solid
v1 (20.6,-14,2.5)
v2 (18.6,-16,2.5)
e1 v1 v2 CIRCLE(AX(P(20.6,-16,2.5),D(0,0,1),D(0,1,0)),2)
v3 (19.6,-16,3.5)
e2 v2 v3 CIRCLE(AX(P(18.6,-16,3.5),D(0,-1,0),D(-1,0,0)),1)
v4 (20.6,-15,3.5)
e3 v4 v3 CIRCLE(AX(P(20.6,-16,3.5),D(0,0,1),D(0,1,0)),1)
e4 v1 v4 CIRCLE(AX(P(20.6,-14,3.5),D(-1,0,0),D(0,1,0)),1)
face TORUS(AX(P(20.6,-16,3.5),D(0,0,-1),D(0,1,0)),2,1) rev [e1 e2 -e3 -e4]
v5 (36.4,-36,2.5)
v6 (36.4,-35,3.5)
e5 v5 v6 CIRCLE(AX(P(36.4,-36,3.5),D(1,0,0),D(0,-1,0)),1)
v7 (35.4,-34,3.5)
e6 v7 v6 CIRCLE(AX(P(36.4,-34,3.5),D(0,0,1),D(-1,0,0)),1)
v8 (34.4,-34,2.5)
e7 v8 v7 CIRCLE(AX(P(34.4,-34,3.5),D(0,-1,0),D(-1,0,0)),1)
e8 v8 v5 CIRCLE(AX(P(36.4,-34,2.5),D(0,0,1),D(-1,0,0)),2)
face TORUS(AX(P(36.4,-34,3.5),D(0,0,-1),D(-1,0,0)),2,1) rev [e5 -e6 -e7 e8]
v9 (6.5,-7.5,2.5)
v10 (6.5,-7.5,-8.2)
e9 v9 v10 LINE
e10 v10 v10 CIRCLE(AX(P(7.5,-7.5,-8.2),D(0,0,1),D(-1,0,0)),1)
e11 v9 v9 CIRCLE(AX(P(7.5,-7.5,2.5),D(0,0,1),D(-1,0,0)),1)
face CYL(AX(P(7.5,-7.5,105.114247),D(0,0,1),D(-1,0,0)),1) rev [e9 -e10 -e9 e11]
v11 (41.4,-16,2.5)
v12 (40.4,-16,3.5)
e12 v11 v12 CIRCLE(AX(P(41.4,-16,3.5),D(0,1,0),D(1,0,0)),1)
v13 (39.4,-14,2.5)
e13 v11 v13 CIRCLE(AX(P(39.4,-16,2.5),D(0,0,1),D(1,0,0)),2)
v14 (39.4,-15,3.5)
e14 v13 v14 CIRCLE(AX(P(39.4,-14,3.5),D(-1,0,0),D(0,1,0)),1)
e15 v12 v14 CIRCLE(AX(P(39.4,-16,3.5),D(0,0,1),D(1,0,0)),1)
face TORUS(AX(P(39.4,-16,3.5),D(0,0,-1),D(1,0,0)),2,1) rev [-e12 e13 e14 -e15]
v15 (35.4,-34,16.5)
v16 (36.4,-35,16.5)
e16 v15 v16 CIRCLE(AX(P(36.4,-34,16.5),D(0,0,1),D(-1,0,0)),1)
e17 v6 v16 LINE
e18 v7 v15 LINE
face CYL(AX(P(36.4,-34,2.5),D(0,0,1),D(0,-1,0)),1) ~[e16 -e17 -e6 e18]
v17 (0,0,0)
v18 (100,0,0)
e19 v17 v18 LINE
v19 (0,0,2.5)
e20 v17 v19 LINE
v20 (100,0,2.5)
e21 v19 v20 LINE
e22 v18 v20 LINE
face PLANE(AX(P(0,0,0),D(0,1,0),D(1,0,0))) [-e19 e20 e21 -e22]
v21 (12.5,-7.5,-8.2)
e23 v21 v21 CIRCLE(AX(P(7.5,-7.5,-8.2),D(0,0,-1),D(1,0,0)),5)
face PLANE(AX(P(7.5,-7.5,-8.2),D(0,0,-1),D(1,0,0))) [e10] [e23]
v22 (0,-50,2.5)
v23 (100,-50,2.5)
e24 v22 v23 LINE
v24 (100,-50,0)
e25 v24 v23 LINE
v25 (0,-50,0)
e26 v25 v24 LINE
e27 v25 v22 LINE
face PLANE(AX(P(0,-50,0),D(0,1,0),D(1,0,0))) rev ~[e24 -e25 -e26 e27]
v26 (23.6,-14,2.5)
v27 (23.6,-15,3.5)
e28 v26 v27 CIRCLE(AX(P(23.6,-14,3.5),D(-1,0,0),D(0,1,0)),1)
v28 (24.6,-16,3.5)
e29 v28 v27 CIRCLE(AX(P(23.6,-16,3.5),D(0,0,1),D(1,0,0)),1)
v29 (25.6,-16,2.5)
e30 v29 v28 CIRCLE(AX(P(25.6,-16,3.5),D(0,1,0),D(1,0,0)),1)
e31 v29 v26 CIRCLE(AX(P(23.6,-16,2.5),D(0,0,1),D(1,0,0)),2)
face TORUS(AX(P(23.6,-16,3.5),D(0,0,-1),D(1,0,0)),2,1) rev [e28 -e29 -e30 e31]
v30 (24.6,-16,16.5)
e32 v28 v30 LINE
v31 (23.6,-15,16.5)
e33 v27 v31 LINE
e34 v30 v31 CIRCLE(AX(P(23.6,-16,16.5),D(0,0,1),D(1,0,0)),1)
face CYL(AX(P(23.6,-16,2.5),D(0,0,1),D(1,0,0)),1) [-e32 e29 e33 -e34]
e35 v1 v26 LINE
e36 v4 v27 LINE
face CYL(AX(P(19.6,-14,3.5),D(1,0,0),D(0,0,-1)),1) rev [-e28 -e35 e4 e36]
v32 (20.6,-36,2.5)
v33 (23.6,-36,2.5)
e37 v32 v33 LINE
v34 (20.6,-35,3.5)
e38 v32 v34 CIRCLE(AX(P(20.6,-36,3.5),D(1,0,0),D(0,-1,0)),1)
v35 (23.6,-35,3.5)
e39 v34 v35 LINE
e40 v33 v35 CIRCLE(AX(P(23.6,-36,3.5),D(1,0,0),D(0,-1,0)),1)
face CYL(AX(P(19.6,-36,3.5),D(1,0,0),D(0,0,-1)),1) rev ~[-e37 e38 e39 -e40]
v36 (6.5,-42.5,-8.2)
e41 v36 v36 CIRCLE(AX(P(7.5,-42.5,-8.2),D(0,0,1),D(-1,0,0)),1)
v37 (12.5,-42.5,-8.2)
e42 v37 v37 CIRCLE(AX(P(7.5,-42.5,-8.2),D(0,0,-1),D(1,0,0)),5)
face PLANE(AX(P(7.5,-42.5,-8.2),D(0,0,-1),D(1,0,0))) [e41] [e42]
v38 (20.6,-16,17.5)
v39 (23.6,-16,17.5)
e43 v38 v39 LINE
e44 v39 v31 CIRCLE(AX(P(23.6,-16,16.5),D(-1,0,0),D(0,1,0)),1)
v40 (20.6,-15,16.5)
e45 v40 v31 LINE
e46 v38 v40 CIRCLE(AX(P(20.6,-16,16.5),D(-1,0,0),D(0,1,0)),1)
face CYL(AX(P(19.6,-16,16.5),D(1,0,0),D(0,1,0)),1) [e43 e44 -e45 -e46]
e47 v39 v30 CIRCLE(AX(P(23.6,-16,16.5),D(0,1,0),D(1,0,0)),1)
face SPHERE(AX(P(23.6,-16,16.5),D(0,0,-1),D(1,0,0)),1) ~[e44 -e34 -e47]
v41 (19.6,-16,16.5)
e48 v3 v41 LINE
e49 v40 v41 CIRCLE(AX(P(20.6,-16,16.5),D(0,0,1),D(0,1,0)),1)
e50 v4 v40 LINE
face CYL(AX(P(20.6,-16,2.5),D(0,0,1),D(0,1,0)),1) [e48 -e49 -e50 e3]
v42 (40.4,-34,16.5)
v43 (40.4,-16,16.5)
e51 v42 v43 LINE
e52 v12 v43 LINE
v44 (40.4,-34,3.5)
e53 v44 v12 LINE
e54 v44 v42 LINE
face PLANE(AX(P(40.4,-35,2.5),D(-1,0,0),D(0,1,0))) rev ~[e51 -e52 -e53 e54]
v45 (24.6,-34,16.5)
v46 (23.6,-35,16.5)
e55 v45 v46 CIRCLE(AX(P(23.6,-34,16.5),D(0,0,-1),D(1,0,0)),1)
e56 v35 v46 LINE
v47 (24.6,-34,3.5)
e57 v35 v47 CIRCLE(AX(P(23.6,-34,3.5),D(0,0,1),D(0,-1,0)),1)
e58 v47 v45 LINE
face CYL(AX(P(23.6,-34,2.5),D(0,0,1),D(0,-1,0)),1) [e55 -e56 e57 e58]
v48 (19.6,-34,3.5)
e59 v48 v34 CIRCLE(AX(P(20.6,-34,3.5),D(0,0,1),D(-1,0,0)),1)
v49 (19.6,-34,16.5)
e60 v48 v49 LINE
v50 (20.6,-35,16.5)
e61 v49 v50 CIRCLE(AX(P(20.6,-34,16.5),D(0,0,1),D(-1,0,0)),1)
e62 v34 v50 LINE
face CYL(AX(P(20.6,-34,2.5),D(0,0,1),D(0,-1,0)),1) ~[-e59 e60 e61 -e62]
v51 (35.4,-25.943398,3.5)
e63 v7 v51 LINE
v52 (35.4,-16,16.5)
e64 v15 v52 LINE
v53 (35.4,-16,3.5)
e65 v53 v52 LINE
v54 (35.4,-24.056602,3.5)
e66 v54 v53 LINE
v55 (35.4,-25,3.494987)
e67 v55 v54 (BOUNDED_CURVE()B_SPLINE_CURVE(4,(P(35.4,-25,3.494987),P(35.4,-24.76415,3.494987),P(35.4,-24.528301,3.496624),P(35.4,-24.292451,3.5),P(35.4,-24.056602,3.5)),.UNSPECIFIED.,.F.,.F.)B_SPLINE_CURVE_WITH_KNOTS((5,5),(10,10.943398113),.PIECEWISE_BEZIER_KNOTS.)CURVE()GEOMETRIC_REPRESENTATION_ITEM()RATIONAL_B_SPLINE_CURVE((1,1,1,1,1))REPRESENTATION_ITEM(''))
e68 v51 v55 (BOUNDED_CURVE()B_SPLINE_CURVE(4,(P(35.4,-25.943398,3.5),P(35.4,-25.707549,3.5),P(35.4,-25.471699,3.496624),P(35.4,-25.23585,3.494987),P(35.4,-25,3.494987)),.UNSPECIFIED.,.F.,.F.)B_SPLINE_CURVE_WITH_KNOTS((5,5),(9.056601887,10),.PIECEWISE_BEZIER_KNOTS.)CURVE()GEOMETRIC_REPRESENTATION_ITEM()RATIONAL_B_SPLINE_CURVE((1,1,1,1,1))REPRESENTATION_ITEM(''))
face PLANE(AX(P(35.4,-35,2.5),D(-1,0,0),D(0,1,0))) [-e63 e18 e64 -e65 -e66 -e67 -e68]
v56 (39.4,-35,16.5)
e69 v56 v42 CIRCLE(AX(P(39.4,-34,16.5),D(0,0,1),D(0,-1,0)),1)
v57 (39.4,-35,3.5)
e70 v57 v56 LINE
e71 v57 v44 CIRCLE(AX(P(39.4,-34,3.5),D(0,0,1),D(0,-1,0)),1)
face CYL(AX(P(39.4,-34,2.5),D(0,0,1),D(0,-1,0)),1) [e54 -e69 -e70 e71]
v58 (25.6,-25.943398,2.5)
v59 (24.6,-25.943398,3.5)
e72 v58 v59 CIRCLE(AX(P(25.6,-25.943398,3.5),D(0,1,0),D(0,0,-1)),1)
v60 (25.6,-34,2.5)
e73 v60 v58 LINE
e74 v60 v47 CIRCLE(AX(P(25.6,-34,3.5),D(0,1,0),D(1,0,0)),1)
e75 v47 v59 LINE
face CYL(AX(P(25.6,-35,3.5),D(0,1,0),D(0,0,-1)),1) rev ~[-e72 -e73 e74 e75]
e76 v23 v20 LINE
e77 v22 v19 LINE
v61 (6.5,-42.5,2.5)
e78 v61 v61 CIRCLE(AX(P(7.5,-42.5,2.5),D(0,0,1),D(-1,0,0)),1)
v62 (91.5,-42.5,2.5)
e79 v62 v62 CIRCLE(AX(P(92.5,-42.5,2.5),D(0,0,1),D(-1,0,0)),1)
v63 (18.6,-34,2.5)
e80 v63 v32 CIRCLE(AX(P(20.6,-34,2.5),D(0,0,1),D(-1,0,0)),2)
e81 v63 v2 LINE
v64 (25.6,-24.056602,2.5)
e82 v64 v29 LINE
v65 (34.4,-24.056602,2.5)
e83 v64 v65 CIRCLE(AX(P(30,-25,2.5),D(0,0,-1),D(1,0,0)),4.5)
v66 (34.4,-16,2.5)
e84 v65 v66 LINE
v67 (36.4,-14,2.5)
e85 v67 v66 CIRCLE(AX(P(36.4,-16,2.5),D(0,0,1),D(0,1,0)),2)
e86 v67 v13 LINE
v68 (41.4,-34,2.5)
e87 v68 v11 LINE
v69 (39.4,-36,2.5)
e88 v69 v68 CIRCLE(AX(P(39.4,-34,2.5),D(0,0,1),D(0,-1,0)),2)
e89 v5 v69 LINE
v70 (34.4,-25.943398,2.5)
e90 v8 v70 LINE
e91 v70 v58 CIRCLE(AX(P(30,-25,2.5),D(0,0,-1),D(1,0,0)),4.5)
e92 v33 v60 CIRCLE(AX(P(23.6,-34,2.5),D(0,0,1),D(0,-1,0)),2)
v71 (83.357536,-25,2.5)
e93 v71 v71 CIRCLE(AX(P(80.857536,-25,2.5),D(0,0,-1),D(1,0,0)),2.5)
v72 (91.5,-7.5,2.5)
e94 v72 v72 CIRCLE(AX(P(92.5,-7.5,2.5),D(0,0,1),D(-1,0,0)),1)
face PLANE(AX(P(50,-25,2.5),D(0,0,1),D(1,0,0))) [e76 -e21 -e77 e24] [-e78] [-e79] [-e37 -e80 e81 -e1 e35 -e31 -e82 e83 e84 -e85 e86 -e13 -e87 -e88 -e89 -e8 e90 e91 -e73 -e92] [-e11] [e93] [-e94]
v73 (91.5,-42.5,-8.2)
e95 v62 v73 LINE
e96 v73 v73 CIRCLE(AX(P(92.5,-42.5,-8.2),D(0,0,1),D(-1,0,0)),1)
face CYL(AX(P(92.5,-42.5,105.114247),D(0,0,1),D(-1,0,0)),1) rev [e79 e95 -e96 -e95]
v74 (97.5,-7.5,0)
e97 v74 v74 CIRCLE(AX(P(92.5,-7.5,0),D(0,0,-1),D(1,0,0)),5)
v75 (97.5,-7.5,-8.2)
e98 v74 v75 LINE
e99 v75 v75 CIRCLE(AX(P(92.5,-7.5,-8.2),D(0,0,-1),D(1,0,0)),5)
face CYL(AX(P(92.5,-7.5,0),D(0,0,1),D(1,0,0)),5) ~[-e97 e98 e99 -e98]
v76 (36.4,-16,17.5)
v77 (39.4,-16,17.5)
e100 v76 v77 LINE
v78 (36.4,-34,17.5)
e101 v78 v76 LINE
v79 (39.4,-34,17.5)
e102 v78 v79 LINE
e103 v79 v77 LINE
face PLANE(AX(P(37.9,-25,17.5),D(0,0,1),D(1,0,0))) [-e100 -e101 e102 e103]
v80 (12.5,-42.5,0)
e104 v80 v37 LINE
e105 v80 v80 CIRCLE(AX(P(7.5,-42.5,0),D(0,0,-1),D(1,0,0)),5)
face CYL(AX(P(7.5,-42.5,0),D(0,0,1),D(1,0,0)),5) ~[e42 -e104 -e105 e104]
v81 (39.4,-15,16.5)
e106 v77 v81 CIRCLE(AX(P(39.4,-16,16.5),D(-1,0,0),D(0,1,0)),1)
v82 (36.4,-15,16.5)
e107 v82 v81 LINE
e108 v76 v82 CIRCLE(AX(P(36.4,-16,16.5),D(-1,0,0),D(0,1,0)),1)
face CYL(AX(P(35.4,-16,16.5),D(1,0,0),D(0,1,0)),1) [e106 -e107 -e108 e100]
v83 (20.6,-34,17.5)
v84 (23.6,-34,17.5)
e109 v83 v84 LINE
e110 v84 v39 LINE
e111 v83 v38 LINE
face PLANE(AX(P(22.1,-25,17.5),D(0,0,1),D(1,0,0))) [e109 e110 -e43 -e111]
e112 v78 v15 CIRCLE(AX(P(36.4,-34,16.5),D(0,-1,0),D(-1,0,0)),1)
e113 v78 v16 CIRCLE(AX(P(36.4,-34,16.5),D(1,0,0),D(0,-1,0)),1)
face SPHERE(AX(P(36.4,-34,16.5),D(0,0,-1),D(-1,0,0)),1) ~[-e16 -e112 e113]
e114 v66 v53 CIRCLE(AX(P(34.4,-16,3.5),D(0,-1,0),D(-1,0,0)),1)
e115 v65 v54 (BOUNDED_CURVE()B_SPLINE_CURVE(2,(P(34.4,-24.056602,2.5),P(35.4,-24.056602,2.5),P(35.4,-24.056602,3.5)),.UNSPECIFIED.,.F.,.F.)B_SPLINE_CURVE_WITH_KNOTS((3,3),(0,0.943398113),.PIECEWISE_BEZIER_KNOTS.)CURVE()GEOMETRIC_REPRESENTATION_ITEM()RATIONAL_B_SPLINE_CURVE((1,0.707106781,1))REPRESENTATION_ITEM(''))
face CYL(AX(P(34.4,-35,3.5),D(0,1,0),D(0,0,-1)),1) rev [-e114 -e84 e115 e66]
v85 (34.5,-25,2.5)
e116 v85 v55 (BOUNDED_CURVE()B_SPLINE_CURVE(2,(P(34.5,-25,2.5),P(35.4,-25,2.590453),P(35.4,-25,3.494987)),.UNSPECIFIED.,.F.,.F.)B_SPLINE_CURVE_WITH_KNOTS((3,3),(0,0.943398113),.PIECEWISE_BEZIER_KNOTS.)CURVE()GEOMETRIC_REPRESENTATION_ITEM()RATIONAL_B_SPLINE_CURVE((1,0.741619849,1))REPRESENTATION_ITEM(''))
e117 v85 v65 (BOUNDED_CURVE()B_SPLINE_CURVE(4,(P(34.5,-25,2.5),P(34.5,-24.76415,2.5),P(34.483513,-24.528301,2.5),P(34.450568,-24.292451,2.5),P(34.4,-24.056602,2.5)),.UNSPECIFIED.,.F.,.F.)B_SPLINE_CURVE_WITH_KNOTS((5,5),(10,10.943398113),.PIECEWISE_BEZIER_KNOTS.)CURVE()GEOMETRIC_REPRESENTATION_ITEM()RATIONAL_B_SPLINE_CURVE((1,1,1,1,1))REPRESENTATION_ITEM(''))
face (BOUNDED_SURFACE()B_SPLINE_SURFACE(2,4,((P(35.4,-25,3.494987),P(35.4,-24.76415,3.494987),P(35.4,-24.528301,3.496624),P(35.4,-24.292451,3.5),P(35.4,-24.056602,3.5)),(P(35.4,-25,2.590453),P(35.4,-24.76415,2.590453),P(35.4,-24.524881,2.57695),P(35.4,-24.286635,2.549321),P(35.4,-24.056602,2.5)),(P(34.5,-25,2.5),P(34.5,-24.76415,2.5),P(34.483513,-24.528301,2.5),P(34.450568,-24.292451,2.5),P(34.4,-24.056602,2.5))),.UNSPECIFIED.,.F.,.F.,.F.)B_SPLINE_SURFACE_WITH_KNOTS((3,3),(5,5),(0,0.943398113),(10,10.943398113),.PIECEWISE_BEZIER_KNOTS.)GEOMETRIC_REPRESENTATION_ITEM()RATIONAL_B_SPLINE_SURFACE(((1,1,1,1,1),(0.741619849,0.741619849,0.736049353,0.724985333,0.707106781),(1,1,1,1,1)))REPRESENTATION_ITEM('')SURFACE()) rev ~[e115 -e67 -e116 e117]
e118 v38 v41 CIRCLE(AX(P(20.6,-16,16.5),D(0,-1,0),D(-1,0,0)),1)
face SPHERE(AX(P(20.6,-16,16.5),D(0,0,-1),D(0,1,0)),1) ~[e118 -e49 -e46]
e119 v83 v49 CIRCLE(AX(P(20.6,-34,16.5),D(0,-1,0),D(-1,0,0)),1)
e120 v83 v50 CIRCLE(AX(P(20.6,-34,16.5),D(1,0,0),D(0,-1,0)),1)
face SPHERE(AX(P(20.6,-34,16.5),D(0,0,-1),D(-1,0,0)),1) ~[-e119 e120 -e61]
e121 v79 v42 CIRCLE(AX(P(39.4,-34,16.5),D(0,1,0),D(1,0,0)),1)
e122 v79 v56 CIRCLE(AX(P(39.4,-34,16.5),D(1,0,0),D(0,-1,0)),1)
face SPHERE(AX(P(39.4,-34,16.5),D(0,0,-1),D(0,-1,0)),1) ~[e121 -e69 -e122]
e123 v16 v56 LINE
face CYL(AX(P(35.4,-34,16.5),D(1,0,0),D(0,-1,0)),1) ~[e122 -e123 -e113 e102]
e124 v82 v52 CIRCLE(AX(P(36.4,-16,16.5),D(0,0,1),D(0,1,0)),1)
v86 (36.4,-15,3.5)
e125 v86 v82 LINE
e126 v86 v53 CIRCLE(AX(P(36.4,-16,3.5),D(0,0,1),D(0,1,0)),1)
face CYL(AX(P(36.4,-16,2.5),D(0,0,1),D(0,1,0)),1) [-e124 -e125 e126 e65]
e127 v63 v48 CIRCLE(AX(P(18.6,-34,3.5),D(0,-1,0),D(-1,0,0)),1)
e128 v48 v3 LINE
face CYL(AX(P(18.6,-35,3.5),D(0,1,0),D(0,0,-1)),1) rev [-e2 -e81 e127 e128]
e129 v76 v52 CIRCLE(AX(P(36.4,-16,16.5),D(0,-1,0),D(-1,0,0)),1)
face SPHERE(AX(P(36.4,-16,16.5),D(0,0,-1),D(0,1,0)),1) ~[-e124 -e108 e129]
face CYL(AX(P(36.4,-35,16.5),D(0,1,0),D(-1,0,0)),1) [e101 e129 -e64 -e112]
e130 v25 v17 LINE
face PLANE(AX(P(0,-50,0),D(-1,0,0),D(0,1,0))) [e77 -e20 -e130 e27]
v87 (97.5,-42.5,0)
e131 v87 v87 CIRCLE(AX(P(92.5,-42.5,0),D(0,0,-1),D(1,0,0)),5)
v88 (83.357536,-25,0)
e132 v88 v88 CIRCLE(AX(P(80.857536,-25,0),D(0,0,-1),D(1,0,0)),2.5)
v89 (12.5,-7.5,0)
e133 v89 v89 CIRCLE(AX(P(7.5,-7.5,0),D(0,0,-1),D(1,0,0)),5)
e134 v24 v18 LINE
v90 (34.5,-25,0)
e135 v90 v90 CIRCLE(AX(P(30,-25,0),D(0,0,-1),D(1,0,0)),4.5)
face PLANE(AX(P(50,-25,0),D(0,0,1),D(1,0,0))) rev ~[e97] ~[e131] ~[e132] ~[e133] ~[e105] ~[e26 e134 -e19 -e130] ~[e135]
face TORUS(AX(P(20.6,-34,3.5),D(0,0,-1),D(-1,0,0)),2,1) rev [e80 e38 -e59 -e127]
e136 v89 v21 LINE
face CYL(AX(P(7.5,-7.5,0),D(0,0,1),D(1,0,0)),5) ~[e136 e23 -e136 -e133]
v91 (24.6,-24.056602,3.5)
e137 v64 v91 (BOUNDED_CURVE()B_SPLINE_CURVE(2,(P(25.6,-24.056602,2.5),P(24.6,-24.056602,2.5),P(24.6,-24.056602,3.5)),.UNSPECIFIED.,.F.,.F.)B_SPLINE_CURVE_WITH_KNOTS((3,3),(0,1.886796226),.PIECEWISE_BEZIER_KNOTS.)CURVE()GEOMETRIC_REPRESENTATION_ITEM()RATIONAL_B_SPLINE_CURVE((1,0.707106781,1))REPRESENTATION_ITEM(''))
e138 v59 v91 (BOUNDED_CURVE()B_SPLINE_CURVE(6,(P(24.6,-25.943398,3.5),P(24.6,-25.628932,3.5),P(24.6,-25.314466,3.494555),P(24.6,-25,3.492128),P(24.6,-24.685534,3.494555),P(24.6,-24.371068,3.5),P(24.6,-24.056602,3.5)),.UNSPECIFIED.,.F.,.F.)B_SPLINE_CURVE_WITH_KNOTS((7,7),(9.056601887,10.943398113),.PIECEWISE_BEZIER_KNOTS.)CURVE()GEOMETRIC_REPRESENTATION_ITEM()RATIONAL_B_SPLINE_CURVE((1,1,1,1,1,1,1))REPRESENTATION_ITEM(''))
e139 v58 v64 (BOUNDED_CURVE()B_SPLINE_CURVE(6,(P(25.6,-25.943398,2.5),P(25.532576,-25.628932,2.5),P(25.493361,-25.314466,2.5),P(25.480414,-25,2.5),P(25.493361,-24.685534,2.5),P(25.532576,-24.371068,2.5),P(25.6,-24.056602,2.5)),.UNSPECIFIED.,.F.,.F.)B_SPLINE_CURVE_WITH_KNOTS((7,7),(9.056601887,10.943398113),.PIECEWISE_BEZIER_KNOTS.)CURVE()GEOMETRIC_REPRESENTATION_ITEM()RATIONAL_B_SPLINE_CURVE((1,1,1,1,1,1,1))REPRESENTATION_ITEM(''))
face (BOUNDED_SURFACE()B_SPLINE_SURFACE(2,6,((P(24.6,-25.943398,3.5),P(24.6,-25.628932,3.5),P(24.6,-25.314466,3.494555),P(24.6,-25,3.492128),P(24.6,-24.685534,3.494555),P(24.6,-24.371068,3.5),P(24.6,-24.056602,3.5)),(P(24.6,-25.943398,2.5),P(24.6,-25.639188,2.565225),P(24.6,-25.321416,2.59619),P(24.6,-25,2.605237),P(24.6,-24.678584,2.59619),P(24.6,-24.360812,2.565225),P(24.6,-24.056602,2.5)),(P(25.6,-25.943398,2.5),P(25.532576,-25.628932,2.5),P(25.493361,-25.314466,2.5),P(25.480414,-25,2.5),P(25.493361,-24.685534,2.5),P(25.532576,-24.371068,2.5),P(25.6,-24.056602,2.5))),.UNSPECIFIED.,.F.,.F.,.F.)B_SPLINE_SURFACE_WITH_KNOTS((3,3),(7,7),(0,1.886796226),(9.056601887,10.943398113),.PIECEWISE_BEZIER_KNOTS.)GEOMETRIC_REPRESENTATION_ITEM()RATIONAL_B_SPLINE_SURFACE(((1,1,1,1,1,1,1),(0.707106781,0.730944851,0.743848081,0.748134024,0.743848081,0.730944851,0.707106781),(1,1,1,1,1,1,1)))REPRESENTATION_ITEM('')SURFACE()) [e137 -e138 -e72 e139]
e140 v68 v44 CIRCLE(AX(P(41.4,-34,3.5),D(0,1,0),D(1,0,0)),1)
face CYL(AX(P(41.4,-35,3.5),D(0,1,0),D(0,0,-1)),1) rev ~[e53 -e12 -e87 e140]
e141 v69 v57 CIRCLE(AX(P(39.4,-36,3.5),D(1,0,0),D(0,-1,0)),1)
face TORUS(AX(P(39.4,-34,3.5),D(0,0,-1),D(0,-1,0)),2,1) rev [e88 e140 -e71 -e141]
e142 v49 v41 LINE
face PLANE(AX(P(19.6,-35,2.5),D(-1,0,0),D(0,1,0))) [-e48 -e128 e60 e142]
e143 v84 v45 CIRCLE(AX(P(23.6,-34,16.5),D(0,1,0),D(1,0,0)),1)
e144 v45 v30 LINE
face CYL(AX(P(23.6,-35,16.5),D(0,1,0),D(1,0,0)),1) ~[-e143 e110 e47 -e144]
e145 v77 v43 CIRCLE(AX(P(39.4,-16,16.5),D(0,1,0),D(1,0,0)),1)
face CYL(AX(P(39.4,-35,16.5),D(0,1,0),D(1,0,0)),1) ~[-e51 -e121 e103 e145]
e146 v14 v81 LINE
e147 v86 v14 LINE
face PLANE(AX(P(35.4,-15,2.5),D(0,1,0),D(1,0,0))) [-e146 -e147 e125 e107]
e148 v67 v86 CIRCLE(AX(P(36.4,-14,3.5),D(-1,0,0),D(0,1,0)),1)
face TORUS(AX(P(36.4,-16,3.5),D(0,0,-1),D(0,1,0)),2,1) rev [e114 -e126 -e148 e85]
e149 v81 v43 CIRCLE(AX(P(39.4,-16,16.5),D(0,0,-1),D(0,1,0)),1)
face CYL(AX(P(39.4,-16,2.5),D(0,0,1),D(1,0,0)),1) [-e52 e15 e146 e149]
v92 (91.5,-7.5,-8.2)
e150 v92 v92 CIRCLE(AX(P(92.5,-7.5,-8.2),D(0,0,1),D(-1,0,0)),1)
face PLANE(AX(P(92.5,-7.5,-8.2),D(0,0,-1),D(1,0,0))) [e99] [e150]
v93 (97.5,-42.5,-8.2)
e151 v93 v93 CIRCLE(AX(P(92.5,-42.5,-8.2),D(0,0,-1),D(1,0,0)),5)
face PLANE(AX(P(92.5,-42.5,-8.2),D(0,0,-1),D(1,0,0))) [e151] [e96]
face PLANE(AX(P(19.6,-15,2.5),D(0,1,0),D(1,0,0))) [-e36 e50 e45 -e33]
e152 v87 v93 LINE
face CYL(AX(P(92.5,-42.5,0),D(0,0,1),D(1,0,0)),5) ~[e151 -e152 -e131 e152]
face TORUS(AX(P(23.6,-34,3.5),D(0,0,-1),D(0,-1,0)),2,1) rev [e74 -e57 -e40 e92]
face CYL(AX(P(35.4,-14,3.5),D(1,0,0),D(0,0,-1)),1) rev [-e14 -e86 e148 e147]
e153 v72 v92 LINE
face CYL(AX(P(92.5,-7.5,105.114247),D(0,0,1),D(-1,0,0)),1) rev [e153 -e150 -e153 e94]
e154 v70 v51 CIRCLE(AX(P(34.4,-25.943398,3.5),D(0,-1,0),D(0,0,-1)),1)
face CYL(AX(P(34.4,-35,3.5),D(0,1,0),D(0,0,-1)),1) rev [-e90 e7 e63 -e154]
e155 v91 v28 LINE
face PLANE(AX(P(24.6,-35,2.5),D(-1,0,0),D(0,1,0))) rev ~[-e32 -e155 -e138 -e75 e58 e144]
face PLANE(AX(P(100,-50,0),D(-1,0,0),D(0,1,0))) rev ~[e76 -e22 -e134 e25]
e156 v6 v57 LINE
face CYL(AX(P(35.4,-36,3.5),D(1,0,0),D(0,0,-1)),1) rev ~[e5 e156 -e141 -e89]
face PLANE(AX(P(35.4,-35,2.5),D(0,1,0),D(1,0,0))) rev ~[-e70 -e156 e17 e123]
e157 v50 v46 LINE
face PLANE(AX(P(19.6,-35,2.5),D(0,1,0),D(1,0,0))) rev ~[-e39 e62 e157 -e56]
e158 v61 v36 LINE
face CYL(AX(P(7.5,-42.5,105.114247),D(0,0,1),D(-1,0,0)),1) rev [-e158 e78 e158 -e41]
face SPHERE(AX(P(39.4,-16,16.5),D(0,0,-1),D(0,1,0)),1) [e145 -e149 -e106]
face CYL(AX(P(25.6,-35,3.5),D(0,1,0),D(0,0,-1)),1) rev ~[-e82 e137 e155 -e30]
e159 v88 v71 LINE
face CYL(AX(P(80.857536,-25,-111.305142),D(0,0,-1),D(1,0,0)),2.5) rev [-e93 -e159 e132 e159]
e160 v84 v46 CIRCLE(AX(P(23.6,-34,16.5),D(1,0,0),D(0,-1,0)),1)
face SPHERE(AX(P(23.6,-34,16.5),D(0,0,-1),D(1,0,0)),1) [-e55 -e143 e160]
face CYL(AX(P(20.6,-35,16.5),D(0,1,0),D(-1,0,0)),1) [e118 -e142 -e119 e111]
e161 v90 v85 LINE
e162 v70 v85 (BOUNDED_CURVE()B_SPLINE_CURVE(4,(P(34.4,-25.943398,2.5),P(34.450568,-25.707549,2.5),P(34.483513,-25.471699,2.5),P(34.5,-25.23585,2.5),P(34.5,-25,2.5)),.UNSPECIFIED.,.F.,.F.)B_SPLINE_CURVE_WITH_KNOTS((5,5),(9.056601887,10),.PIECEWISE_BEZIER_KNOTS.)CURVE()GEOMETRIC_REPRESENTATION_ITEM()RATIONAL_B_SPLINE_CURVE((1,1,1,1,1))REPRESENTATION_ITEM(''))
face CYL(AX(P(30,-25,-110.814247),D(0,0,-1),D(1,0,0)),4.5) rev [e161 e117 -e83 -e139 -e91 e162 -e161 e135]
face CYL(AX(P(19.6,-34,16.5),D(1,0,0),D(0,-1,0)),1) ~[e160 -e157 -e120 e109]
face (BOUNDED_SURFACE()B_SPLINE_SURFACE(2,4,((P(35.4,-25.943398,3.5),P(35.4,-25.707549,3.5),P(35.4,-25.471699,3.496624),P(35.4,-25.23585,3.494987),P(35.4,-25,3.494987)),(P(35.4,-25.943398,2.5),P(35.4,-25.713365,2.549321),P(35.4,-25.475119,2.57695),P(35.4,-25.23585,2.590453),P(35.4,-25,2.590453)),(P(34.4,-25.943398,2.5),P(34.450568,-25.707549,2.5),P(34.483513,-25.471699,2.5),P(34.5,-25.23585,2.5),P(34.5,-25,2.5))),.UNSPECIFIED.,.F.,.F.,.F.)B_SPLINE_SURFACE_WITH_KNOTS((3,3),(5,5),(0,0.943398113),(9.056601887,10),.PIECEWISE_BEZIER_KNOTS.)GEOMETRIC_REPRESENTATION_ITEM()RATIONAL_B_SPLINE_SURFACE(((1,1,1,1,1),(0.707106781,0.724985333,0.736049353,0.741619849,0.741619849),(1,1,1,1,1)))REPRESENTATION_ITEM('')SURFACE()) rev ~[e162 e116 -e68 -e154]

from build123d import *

# Parameters (mm, degrees)
SKETCH1_W               = 100
SKETCH1_H               = 50
BOSS_EXTRUDE1_DEPTH     = 2.5
SKETCH2_R               = 5
BOSS_EXTRUDE2_DEPTH     = 8.2
CUT_EXTRUDE1_DEPTH      = 113.314246648
CUT_EXTRUDE1_DEPTH_BACK = 113.314246648
SKETCH3_R               = 4.5
CUT_EXTRUDE4_DEPTH      = 113.314246648
CUT_EXTRUDE4_DEPTH_BACK = 113.314246648
SKETCH4_R               = 1
SKETCH6_W               = 5
SKETCH6_H               = 20
BOSS_EXTRUDE3_DEPTH     = 15
FILLET1_R               = 1
CUT_EXTRUDE5_DEPTH      = 113.805141727
CUT_EXTRUDE5_DEPTH_BACK = 113.805141727
SKETCH7_R               = 2.5


with BuildPart() as part:
    # Sketch1 → Boss-Extrude1 (new body)
    with BuildSketch(Plane.XY):
        with Locations((50, -25)):
            Rectangle(SKETCH1_W, SKETCH1_H)
    extrude(amount=BOSS_EXTRUDE1_DEPTH)

    # Sketch2 → Boss-Extrude2 (add)
    with BuildSketch(Plane(origin=(0, 0, 0), x_dir=(-1, 0, 0), z_dir=(0, 0, -1))):
        with Locations(Location((-7.5, -7.5, 0), (0, 0, 180))):
            Circle(SKETCH2_R)
        with Locations(Location((-92.5, -7.5, 0), (0, 0, 180))):
            Circle(SKETCH2_R)
        with Locations(Location((-7.5, -42.5, 0), (0, 0, 180))):
            Circle(SKETCH2_R)
        with Locations(Location((-92.5, -42.5, 0), (0, 0, 180))):
            Circle(SKETCH2_R)
    extrude(amount=BOSS_EXTRUDE2_DEPTH)

    # Sketch3 → Cut-Extrude1 (cut, two sides: drawn at the far end of the back side and taken through both)
    with BuildSketch(Plane.XY.offset(2.5).offset(-CUT_EXTRUDE1_DEPTH_BACK)):
        with Locations((30, -25)):
            Circle(SKETCH3_R)
    extrude(amount=CUT_EXTRUDE1_DEPTH + CUT_EXTRUDE1_DEPTH_BACK, mode=Mode.SUBTRACT)

    # Sketch4 → Cut-Extrude4 (cut, two sides: drawn at the far end of the back side and taken through both)
    with BuildSketch(Plane(origin=(0, 0, -8.2), x_dir=(-1, 0, 0), z_dir=(0, 0, -1)).offset(-CUT_EXTRUDE4_DEPTH_BACK)):
        with Locations((-92.5, -7.5)):
            Circle(SKETCH4_R)
        with Locations((-92.5, -42.5)):
            Circle(SKETCH4_R)
        with Locations((-7.5, -42.5)):
            Circle(SKETCH4_R)
        with Locations((-7.5, -7.5)):
            Circle(SKETCH4_R)
    extrude(amount=CUT_EXTRUDE4_DEPTH + CUT_EXTRUDE4_DEPTH_BACK, mode=Mode.SUBTRACT)

    # Sketch6 → Boss-Extrude3 (add)
    with BuildSketch(Plane.XY.offset(2.5)):
        with Locations((22.1, -25)):
            Rectangle(SKETCH6_W, SKETCH6_H)
        with Locations((37.9, -25)):
            Rectangle(SKETCH6_W, SKETCH6_H)
    extrude(amount=BOSS_EXTRUDE3_DEPTH)

    # Fillet1
    fillet1_edges = [part.edges().sort_by_distance(p)[0] for p in [
        (24.6, -25, 2.5),
        (24.6, -35, 10),
        (22.1, -15, 2.5),
        (24.6, -15, 10),
        (19.6, -25, 2.5),
        (19.6, -15, 10),
        (22.1, -35, 2.5),
        (19.6, -35, 10),
        (24.6, -25, 17.5),
        (22.1, -15, 17.5),
        (19.6, -25, 17.5),
        (22.1, -35, 17.5),
        (37.9, -15, 2.5),
        (40.4, -15, 10),
        (35.4, -25, 2.5),
        (35.4, -15, 10),
        (37.9, -35, 2.5),
        (35.4, -35, 10),
        (40.4, -25, 2.5),
        (40.4, -35, 10),
        (37.9, -15, 17.5),
        (35.4, -25, 17.5),
        (37.9, -35, 17.5),
        (40.4, -25, 17.5),
    ]]
    fillet(fillet1_edges, radius=FILLET1_R)

    # Sketch7 → Cut-Extrude5 (cut, two sides: drawn at the far end of the back side and taken through both)
    with BuildSketch(Plane.XY.offset(2.5).offset(-CUT_EXTRUDE5_DEPTH_BACK)):
        with Locations((80.857536388, -25)):
            Circle(SKETCH7_R)
    extrude(amount=CUT_EXTRUDE5_DEPTH + CUT_EXTRUDE5_DEPTH_BACK, mode=Mode.SUBTRACT)


solid = part.part
